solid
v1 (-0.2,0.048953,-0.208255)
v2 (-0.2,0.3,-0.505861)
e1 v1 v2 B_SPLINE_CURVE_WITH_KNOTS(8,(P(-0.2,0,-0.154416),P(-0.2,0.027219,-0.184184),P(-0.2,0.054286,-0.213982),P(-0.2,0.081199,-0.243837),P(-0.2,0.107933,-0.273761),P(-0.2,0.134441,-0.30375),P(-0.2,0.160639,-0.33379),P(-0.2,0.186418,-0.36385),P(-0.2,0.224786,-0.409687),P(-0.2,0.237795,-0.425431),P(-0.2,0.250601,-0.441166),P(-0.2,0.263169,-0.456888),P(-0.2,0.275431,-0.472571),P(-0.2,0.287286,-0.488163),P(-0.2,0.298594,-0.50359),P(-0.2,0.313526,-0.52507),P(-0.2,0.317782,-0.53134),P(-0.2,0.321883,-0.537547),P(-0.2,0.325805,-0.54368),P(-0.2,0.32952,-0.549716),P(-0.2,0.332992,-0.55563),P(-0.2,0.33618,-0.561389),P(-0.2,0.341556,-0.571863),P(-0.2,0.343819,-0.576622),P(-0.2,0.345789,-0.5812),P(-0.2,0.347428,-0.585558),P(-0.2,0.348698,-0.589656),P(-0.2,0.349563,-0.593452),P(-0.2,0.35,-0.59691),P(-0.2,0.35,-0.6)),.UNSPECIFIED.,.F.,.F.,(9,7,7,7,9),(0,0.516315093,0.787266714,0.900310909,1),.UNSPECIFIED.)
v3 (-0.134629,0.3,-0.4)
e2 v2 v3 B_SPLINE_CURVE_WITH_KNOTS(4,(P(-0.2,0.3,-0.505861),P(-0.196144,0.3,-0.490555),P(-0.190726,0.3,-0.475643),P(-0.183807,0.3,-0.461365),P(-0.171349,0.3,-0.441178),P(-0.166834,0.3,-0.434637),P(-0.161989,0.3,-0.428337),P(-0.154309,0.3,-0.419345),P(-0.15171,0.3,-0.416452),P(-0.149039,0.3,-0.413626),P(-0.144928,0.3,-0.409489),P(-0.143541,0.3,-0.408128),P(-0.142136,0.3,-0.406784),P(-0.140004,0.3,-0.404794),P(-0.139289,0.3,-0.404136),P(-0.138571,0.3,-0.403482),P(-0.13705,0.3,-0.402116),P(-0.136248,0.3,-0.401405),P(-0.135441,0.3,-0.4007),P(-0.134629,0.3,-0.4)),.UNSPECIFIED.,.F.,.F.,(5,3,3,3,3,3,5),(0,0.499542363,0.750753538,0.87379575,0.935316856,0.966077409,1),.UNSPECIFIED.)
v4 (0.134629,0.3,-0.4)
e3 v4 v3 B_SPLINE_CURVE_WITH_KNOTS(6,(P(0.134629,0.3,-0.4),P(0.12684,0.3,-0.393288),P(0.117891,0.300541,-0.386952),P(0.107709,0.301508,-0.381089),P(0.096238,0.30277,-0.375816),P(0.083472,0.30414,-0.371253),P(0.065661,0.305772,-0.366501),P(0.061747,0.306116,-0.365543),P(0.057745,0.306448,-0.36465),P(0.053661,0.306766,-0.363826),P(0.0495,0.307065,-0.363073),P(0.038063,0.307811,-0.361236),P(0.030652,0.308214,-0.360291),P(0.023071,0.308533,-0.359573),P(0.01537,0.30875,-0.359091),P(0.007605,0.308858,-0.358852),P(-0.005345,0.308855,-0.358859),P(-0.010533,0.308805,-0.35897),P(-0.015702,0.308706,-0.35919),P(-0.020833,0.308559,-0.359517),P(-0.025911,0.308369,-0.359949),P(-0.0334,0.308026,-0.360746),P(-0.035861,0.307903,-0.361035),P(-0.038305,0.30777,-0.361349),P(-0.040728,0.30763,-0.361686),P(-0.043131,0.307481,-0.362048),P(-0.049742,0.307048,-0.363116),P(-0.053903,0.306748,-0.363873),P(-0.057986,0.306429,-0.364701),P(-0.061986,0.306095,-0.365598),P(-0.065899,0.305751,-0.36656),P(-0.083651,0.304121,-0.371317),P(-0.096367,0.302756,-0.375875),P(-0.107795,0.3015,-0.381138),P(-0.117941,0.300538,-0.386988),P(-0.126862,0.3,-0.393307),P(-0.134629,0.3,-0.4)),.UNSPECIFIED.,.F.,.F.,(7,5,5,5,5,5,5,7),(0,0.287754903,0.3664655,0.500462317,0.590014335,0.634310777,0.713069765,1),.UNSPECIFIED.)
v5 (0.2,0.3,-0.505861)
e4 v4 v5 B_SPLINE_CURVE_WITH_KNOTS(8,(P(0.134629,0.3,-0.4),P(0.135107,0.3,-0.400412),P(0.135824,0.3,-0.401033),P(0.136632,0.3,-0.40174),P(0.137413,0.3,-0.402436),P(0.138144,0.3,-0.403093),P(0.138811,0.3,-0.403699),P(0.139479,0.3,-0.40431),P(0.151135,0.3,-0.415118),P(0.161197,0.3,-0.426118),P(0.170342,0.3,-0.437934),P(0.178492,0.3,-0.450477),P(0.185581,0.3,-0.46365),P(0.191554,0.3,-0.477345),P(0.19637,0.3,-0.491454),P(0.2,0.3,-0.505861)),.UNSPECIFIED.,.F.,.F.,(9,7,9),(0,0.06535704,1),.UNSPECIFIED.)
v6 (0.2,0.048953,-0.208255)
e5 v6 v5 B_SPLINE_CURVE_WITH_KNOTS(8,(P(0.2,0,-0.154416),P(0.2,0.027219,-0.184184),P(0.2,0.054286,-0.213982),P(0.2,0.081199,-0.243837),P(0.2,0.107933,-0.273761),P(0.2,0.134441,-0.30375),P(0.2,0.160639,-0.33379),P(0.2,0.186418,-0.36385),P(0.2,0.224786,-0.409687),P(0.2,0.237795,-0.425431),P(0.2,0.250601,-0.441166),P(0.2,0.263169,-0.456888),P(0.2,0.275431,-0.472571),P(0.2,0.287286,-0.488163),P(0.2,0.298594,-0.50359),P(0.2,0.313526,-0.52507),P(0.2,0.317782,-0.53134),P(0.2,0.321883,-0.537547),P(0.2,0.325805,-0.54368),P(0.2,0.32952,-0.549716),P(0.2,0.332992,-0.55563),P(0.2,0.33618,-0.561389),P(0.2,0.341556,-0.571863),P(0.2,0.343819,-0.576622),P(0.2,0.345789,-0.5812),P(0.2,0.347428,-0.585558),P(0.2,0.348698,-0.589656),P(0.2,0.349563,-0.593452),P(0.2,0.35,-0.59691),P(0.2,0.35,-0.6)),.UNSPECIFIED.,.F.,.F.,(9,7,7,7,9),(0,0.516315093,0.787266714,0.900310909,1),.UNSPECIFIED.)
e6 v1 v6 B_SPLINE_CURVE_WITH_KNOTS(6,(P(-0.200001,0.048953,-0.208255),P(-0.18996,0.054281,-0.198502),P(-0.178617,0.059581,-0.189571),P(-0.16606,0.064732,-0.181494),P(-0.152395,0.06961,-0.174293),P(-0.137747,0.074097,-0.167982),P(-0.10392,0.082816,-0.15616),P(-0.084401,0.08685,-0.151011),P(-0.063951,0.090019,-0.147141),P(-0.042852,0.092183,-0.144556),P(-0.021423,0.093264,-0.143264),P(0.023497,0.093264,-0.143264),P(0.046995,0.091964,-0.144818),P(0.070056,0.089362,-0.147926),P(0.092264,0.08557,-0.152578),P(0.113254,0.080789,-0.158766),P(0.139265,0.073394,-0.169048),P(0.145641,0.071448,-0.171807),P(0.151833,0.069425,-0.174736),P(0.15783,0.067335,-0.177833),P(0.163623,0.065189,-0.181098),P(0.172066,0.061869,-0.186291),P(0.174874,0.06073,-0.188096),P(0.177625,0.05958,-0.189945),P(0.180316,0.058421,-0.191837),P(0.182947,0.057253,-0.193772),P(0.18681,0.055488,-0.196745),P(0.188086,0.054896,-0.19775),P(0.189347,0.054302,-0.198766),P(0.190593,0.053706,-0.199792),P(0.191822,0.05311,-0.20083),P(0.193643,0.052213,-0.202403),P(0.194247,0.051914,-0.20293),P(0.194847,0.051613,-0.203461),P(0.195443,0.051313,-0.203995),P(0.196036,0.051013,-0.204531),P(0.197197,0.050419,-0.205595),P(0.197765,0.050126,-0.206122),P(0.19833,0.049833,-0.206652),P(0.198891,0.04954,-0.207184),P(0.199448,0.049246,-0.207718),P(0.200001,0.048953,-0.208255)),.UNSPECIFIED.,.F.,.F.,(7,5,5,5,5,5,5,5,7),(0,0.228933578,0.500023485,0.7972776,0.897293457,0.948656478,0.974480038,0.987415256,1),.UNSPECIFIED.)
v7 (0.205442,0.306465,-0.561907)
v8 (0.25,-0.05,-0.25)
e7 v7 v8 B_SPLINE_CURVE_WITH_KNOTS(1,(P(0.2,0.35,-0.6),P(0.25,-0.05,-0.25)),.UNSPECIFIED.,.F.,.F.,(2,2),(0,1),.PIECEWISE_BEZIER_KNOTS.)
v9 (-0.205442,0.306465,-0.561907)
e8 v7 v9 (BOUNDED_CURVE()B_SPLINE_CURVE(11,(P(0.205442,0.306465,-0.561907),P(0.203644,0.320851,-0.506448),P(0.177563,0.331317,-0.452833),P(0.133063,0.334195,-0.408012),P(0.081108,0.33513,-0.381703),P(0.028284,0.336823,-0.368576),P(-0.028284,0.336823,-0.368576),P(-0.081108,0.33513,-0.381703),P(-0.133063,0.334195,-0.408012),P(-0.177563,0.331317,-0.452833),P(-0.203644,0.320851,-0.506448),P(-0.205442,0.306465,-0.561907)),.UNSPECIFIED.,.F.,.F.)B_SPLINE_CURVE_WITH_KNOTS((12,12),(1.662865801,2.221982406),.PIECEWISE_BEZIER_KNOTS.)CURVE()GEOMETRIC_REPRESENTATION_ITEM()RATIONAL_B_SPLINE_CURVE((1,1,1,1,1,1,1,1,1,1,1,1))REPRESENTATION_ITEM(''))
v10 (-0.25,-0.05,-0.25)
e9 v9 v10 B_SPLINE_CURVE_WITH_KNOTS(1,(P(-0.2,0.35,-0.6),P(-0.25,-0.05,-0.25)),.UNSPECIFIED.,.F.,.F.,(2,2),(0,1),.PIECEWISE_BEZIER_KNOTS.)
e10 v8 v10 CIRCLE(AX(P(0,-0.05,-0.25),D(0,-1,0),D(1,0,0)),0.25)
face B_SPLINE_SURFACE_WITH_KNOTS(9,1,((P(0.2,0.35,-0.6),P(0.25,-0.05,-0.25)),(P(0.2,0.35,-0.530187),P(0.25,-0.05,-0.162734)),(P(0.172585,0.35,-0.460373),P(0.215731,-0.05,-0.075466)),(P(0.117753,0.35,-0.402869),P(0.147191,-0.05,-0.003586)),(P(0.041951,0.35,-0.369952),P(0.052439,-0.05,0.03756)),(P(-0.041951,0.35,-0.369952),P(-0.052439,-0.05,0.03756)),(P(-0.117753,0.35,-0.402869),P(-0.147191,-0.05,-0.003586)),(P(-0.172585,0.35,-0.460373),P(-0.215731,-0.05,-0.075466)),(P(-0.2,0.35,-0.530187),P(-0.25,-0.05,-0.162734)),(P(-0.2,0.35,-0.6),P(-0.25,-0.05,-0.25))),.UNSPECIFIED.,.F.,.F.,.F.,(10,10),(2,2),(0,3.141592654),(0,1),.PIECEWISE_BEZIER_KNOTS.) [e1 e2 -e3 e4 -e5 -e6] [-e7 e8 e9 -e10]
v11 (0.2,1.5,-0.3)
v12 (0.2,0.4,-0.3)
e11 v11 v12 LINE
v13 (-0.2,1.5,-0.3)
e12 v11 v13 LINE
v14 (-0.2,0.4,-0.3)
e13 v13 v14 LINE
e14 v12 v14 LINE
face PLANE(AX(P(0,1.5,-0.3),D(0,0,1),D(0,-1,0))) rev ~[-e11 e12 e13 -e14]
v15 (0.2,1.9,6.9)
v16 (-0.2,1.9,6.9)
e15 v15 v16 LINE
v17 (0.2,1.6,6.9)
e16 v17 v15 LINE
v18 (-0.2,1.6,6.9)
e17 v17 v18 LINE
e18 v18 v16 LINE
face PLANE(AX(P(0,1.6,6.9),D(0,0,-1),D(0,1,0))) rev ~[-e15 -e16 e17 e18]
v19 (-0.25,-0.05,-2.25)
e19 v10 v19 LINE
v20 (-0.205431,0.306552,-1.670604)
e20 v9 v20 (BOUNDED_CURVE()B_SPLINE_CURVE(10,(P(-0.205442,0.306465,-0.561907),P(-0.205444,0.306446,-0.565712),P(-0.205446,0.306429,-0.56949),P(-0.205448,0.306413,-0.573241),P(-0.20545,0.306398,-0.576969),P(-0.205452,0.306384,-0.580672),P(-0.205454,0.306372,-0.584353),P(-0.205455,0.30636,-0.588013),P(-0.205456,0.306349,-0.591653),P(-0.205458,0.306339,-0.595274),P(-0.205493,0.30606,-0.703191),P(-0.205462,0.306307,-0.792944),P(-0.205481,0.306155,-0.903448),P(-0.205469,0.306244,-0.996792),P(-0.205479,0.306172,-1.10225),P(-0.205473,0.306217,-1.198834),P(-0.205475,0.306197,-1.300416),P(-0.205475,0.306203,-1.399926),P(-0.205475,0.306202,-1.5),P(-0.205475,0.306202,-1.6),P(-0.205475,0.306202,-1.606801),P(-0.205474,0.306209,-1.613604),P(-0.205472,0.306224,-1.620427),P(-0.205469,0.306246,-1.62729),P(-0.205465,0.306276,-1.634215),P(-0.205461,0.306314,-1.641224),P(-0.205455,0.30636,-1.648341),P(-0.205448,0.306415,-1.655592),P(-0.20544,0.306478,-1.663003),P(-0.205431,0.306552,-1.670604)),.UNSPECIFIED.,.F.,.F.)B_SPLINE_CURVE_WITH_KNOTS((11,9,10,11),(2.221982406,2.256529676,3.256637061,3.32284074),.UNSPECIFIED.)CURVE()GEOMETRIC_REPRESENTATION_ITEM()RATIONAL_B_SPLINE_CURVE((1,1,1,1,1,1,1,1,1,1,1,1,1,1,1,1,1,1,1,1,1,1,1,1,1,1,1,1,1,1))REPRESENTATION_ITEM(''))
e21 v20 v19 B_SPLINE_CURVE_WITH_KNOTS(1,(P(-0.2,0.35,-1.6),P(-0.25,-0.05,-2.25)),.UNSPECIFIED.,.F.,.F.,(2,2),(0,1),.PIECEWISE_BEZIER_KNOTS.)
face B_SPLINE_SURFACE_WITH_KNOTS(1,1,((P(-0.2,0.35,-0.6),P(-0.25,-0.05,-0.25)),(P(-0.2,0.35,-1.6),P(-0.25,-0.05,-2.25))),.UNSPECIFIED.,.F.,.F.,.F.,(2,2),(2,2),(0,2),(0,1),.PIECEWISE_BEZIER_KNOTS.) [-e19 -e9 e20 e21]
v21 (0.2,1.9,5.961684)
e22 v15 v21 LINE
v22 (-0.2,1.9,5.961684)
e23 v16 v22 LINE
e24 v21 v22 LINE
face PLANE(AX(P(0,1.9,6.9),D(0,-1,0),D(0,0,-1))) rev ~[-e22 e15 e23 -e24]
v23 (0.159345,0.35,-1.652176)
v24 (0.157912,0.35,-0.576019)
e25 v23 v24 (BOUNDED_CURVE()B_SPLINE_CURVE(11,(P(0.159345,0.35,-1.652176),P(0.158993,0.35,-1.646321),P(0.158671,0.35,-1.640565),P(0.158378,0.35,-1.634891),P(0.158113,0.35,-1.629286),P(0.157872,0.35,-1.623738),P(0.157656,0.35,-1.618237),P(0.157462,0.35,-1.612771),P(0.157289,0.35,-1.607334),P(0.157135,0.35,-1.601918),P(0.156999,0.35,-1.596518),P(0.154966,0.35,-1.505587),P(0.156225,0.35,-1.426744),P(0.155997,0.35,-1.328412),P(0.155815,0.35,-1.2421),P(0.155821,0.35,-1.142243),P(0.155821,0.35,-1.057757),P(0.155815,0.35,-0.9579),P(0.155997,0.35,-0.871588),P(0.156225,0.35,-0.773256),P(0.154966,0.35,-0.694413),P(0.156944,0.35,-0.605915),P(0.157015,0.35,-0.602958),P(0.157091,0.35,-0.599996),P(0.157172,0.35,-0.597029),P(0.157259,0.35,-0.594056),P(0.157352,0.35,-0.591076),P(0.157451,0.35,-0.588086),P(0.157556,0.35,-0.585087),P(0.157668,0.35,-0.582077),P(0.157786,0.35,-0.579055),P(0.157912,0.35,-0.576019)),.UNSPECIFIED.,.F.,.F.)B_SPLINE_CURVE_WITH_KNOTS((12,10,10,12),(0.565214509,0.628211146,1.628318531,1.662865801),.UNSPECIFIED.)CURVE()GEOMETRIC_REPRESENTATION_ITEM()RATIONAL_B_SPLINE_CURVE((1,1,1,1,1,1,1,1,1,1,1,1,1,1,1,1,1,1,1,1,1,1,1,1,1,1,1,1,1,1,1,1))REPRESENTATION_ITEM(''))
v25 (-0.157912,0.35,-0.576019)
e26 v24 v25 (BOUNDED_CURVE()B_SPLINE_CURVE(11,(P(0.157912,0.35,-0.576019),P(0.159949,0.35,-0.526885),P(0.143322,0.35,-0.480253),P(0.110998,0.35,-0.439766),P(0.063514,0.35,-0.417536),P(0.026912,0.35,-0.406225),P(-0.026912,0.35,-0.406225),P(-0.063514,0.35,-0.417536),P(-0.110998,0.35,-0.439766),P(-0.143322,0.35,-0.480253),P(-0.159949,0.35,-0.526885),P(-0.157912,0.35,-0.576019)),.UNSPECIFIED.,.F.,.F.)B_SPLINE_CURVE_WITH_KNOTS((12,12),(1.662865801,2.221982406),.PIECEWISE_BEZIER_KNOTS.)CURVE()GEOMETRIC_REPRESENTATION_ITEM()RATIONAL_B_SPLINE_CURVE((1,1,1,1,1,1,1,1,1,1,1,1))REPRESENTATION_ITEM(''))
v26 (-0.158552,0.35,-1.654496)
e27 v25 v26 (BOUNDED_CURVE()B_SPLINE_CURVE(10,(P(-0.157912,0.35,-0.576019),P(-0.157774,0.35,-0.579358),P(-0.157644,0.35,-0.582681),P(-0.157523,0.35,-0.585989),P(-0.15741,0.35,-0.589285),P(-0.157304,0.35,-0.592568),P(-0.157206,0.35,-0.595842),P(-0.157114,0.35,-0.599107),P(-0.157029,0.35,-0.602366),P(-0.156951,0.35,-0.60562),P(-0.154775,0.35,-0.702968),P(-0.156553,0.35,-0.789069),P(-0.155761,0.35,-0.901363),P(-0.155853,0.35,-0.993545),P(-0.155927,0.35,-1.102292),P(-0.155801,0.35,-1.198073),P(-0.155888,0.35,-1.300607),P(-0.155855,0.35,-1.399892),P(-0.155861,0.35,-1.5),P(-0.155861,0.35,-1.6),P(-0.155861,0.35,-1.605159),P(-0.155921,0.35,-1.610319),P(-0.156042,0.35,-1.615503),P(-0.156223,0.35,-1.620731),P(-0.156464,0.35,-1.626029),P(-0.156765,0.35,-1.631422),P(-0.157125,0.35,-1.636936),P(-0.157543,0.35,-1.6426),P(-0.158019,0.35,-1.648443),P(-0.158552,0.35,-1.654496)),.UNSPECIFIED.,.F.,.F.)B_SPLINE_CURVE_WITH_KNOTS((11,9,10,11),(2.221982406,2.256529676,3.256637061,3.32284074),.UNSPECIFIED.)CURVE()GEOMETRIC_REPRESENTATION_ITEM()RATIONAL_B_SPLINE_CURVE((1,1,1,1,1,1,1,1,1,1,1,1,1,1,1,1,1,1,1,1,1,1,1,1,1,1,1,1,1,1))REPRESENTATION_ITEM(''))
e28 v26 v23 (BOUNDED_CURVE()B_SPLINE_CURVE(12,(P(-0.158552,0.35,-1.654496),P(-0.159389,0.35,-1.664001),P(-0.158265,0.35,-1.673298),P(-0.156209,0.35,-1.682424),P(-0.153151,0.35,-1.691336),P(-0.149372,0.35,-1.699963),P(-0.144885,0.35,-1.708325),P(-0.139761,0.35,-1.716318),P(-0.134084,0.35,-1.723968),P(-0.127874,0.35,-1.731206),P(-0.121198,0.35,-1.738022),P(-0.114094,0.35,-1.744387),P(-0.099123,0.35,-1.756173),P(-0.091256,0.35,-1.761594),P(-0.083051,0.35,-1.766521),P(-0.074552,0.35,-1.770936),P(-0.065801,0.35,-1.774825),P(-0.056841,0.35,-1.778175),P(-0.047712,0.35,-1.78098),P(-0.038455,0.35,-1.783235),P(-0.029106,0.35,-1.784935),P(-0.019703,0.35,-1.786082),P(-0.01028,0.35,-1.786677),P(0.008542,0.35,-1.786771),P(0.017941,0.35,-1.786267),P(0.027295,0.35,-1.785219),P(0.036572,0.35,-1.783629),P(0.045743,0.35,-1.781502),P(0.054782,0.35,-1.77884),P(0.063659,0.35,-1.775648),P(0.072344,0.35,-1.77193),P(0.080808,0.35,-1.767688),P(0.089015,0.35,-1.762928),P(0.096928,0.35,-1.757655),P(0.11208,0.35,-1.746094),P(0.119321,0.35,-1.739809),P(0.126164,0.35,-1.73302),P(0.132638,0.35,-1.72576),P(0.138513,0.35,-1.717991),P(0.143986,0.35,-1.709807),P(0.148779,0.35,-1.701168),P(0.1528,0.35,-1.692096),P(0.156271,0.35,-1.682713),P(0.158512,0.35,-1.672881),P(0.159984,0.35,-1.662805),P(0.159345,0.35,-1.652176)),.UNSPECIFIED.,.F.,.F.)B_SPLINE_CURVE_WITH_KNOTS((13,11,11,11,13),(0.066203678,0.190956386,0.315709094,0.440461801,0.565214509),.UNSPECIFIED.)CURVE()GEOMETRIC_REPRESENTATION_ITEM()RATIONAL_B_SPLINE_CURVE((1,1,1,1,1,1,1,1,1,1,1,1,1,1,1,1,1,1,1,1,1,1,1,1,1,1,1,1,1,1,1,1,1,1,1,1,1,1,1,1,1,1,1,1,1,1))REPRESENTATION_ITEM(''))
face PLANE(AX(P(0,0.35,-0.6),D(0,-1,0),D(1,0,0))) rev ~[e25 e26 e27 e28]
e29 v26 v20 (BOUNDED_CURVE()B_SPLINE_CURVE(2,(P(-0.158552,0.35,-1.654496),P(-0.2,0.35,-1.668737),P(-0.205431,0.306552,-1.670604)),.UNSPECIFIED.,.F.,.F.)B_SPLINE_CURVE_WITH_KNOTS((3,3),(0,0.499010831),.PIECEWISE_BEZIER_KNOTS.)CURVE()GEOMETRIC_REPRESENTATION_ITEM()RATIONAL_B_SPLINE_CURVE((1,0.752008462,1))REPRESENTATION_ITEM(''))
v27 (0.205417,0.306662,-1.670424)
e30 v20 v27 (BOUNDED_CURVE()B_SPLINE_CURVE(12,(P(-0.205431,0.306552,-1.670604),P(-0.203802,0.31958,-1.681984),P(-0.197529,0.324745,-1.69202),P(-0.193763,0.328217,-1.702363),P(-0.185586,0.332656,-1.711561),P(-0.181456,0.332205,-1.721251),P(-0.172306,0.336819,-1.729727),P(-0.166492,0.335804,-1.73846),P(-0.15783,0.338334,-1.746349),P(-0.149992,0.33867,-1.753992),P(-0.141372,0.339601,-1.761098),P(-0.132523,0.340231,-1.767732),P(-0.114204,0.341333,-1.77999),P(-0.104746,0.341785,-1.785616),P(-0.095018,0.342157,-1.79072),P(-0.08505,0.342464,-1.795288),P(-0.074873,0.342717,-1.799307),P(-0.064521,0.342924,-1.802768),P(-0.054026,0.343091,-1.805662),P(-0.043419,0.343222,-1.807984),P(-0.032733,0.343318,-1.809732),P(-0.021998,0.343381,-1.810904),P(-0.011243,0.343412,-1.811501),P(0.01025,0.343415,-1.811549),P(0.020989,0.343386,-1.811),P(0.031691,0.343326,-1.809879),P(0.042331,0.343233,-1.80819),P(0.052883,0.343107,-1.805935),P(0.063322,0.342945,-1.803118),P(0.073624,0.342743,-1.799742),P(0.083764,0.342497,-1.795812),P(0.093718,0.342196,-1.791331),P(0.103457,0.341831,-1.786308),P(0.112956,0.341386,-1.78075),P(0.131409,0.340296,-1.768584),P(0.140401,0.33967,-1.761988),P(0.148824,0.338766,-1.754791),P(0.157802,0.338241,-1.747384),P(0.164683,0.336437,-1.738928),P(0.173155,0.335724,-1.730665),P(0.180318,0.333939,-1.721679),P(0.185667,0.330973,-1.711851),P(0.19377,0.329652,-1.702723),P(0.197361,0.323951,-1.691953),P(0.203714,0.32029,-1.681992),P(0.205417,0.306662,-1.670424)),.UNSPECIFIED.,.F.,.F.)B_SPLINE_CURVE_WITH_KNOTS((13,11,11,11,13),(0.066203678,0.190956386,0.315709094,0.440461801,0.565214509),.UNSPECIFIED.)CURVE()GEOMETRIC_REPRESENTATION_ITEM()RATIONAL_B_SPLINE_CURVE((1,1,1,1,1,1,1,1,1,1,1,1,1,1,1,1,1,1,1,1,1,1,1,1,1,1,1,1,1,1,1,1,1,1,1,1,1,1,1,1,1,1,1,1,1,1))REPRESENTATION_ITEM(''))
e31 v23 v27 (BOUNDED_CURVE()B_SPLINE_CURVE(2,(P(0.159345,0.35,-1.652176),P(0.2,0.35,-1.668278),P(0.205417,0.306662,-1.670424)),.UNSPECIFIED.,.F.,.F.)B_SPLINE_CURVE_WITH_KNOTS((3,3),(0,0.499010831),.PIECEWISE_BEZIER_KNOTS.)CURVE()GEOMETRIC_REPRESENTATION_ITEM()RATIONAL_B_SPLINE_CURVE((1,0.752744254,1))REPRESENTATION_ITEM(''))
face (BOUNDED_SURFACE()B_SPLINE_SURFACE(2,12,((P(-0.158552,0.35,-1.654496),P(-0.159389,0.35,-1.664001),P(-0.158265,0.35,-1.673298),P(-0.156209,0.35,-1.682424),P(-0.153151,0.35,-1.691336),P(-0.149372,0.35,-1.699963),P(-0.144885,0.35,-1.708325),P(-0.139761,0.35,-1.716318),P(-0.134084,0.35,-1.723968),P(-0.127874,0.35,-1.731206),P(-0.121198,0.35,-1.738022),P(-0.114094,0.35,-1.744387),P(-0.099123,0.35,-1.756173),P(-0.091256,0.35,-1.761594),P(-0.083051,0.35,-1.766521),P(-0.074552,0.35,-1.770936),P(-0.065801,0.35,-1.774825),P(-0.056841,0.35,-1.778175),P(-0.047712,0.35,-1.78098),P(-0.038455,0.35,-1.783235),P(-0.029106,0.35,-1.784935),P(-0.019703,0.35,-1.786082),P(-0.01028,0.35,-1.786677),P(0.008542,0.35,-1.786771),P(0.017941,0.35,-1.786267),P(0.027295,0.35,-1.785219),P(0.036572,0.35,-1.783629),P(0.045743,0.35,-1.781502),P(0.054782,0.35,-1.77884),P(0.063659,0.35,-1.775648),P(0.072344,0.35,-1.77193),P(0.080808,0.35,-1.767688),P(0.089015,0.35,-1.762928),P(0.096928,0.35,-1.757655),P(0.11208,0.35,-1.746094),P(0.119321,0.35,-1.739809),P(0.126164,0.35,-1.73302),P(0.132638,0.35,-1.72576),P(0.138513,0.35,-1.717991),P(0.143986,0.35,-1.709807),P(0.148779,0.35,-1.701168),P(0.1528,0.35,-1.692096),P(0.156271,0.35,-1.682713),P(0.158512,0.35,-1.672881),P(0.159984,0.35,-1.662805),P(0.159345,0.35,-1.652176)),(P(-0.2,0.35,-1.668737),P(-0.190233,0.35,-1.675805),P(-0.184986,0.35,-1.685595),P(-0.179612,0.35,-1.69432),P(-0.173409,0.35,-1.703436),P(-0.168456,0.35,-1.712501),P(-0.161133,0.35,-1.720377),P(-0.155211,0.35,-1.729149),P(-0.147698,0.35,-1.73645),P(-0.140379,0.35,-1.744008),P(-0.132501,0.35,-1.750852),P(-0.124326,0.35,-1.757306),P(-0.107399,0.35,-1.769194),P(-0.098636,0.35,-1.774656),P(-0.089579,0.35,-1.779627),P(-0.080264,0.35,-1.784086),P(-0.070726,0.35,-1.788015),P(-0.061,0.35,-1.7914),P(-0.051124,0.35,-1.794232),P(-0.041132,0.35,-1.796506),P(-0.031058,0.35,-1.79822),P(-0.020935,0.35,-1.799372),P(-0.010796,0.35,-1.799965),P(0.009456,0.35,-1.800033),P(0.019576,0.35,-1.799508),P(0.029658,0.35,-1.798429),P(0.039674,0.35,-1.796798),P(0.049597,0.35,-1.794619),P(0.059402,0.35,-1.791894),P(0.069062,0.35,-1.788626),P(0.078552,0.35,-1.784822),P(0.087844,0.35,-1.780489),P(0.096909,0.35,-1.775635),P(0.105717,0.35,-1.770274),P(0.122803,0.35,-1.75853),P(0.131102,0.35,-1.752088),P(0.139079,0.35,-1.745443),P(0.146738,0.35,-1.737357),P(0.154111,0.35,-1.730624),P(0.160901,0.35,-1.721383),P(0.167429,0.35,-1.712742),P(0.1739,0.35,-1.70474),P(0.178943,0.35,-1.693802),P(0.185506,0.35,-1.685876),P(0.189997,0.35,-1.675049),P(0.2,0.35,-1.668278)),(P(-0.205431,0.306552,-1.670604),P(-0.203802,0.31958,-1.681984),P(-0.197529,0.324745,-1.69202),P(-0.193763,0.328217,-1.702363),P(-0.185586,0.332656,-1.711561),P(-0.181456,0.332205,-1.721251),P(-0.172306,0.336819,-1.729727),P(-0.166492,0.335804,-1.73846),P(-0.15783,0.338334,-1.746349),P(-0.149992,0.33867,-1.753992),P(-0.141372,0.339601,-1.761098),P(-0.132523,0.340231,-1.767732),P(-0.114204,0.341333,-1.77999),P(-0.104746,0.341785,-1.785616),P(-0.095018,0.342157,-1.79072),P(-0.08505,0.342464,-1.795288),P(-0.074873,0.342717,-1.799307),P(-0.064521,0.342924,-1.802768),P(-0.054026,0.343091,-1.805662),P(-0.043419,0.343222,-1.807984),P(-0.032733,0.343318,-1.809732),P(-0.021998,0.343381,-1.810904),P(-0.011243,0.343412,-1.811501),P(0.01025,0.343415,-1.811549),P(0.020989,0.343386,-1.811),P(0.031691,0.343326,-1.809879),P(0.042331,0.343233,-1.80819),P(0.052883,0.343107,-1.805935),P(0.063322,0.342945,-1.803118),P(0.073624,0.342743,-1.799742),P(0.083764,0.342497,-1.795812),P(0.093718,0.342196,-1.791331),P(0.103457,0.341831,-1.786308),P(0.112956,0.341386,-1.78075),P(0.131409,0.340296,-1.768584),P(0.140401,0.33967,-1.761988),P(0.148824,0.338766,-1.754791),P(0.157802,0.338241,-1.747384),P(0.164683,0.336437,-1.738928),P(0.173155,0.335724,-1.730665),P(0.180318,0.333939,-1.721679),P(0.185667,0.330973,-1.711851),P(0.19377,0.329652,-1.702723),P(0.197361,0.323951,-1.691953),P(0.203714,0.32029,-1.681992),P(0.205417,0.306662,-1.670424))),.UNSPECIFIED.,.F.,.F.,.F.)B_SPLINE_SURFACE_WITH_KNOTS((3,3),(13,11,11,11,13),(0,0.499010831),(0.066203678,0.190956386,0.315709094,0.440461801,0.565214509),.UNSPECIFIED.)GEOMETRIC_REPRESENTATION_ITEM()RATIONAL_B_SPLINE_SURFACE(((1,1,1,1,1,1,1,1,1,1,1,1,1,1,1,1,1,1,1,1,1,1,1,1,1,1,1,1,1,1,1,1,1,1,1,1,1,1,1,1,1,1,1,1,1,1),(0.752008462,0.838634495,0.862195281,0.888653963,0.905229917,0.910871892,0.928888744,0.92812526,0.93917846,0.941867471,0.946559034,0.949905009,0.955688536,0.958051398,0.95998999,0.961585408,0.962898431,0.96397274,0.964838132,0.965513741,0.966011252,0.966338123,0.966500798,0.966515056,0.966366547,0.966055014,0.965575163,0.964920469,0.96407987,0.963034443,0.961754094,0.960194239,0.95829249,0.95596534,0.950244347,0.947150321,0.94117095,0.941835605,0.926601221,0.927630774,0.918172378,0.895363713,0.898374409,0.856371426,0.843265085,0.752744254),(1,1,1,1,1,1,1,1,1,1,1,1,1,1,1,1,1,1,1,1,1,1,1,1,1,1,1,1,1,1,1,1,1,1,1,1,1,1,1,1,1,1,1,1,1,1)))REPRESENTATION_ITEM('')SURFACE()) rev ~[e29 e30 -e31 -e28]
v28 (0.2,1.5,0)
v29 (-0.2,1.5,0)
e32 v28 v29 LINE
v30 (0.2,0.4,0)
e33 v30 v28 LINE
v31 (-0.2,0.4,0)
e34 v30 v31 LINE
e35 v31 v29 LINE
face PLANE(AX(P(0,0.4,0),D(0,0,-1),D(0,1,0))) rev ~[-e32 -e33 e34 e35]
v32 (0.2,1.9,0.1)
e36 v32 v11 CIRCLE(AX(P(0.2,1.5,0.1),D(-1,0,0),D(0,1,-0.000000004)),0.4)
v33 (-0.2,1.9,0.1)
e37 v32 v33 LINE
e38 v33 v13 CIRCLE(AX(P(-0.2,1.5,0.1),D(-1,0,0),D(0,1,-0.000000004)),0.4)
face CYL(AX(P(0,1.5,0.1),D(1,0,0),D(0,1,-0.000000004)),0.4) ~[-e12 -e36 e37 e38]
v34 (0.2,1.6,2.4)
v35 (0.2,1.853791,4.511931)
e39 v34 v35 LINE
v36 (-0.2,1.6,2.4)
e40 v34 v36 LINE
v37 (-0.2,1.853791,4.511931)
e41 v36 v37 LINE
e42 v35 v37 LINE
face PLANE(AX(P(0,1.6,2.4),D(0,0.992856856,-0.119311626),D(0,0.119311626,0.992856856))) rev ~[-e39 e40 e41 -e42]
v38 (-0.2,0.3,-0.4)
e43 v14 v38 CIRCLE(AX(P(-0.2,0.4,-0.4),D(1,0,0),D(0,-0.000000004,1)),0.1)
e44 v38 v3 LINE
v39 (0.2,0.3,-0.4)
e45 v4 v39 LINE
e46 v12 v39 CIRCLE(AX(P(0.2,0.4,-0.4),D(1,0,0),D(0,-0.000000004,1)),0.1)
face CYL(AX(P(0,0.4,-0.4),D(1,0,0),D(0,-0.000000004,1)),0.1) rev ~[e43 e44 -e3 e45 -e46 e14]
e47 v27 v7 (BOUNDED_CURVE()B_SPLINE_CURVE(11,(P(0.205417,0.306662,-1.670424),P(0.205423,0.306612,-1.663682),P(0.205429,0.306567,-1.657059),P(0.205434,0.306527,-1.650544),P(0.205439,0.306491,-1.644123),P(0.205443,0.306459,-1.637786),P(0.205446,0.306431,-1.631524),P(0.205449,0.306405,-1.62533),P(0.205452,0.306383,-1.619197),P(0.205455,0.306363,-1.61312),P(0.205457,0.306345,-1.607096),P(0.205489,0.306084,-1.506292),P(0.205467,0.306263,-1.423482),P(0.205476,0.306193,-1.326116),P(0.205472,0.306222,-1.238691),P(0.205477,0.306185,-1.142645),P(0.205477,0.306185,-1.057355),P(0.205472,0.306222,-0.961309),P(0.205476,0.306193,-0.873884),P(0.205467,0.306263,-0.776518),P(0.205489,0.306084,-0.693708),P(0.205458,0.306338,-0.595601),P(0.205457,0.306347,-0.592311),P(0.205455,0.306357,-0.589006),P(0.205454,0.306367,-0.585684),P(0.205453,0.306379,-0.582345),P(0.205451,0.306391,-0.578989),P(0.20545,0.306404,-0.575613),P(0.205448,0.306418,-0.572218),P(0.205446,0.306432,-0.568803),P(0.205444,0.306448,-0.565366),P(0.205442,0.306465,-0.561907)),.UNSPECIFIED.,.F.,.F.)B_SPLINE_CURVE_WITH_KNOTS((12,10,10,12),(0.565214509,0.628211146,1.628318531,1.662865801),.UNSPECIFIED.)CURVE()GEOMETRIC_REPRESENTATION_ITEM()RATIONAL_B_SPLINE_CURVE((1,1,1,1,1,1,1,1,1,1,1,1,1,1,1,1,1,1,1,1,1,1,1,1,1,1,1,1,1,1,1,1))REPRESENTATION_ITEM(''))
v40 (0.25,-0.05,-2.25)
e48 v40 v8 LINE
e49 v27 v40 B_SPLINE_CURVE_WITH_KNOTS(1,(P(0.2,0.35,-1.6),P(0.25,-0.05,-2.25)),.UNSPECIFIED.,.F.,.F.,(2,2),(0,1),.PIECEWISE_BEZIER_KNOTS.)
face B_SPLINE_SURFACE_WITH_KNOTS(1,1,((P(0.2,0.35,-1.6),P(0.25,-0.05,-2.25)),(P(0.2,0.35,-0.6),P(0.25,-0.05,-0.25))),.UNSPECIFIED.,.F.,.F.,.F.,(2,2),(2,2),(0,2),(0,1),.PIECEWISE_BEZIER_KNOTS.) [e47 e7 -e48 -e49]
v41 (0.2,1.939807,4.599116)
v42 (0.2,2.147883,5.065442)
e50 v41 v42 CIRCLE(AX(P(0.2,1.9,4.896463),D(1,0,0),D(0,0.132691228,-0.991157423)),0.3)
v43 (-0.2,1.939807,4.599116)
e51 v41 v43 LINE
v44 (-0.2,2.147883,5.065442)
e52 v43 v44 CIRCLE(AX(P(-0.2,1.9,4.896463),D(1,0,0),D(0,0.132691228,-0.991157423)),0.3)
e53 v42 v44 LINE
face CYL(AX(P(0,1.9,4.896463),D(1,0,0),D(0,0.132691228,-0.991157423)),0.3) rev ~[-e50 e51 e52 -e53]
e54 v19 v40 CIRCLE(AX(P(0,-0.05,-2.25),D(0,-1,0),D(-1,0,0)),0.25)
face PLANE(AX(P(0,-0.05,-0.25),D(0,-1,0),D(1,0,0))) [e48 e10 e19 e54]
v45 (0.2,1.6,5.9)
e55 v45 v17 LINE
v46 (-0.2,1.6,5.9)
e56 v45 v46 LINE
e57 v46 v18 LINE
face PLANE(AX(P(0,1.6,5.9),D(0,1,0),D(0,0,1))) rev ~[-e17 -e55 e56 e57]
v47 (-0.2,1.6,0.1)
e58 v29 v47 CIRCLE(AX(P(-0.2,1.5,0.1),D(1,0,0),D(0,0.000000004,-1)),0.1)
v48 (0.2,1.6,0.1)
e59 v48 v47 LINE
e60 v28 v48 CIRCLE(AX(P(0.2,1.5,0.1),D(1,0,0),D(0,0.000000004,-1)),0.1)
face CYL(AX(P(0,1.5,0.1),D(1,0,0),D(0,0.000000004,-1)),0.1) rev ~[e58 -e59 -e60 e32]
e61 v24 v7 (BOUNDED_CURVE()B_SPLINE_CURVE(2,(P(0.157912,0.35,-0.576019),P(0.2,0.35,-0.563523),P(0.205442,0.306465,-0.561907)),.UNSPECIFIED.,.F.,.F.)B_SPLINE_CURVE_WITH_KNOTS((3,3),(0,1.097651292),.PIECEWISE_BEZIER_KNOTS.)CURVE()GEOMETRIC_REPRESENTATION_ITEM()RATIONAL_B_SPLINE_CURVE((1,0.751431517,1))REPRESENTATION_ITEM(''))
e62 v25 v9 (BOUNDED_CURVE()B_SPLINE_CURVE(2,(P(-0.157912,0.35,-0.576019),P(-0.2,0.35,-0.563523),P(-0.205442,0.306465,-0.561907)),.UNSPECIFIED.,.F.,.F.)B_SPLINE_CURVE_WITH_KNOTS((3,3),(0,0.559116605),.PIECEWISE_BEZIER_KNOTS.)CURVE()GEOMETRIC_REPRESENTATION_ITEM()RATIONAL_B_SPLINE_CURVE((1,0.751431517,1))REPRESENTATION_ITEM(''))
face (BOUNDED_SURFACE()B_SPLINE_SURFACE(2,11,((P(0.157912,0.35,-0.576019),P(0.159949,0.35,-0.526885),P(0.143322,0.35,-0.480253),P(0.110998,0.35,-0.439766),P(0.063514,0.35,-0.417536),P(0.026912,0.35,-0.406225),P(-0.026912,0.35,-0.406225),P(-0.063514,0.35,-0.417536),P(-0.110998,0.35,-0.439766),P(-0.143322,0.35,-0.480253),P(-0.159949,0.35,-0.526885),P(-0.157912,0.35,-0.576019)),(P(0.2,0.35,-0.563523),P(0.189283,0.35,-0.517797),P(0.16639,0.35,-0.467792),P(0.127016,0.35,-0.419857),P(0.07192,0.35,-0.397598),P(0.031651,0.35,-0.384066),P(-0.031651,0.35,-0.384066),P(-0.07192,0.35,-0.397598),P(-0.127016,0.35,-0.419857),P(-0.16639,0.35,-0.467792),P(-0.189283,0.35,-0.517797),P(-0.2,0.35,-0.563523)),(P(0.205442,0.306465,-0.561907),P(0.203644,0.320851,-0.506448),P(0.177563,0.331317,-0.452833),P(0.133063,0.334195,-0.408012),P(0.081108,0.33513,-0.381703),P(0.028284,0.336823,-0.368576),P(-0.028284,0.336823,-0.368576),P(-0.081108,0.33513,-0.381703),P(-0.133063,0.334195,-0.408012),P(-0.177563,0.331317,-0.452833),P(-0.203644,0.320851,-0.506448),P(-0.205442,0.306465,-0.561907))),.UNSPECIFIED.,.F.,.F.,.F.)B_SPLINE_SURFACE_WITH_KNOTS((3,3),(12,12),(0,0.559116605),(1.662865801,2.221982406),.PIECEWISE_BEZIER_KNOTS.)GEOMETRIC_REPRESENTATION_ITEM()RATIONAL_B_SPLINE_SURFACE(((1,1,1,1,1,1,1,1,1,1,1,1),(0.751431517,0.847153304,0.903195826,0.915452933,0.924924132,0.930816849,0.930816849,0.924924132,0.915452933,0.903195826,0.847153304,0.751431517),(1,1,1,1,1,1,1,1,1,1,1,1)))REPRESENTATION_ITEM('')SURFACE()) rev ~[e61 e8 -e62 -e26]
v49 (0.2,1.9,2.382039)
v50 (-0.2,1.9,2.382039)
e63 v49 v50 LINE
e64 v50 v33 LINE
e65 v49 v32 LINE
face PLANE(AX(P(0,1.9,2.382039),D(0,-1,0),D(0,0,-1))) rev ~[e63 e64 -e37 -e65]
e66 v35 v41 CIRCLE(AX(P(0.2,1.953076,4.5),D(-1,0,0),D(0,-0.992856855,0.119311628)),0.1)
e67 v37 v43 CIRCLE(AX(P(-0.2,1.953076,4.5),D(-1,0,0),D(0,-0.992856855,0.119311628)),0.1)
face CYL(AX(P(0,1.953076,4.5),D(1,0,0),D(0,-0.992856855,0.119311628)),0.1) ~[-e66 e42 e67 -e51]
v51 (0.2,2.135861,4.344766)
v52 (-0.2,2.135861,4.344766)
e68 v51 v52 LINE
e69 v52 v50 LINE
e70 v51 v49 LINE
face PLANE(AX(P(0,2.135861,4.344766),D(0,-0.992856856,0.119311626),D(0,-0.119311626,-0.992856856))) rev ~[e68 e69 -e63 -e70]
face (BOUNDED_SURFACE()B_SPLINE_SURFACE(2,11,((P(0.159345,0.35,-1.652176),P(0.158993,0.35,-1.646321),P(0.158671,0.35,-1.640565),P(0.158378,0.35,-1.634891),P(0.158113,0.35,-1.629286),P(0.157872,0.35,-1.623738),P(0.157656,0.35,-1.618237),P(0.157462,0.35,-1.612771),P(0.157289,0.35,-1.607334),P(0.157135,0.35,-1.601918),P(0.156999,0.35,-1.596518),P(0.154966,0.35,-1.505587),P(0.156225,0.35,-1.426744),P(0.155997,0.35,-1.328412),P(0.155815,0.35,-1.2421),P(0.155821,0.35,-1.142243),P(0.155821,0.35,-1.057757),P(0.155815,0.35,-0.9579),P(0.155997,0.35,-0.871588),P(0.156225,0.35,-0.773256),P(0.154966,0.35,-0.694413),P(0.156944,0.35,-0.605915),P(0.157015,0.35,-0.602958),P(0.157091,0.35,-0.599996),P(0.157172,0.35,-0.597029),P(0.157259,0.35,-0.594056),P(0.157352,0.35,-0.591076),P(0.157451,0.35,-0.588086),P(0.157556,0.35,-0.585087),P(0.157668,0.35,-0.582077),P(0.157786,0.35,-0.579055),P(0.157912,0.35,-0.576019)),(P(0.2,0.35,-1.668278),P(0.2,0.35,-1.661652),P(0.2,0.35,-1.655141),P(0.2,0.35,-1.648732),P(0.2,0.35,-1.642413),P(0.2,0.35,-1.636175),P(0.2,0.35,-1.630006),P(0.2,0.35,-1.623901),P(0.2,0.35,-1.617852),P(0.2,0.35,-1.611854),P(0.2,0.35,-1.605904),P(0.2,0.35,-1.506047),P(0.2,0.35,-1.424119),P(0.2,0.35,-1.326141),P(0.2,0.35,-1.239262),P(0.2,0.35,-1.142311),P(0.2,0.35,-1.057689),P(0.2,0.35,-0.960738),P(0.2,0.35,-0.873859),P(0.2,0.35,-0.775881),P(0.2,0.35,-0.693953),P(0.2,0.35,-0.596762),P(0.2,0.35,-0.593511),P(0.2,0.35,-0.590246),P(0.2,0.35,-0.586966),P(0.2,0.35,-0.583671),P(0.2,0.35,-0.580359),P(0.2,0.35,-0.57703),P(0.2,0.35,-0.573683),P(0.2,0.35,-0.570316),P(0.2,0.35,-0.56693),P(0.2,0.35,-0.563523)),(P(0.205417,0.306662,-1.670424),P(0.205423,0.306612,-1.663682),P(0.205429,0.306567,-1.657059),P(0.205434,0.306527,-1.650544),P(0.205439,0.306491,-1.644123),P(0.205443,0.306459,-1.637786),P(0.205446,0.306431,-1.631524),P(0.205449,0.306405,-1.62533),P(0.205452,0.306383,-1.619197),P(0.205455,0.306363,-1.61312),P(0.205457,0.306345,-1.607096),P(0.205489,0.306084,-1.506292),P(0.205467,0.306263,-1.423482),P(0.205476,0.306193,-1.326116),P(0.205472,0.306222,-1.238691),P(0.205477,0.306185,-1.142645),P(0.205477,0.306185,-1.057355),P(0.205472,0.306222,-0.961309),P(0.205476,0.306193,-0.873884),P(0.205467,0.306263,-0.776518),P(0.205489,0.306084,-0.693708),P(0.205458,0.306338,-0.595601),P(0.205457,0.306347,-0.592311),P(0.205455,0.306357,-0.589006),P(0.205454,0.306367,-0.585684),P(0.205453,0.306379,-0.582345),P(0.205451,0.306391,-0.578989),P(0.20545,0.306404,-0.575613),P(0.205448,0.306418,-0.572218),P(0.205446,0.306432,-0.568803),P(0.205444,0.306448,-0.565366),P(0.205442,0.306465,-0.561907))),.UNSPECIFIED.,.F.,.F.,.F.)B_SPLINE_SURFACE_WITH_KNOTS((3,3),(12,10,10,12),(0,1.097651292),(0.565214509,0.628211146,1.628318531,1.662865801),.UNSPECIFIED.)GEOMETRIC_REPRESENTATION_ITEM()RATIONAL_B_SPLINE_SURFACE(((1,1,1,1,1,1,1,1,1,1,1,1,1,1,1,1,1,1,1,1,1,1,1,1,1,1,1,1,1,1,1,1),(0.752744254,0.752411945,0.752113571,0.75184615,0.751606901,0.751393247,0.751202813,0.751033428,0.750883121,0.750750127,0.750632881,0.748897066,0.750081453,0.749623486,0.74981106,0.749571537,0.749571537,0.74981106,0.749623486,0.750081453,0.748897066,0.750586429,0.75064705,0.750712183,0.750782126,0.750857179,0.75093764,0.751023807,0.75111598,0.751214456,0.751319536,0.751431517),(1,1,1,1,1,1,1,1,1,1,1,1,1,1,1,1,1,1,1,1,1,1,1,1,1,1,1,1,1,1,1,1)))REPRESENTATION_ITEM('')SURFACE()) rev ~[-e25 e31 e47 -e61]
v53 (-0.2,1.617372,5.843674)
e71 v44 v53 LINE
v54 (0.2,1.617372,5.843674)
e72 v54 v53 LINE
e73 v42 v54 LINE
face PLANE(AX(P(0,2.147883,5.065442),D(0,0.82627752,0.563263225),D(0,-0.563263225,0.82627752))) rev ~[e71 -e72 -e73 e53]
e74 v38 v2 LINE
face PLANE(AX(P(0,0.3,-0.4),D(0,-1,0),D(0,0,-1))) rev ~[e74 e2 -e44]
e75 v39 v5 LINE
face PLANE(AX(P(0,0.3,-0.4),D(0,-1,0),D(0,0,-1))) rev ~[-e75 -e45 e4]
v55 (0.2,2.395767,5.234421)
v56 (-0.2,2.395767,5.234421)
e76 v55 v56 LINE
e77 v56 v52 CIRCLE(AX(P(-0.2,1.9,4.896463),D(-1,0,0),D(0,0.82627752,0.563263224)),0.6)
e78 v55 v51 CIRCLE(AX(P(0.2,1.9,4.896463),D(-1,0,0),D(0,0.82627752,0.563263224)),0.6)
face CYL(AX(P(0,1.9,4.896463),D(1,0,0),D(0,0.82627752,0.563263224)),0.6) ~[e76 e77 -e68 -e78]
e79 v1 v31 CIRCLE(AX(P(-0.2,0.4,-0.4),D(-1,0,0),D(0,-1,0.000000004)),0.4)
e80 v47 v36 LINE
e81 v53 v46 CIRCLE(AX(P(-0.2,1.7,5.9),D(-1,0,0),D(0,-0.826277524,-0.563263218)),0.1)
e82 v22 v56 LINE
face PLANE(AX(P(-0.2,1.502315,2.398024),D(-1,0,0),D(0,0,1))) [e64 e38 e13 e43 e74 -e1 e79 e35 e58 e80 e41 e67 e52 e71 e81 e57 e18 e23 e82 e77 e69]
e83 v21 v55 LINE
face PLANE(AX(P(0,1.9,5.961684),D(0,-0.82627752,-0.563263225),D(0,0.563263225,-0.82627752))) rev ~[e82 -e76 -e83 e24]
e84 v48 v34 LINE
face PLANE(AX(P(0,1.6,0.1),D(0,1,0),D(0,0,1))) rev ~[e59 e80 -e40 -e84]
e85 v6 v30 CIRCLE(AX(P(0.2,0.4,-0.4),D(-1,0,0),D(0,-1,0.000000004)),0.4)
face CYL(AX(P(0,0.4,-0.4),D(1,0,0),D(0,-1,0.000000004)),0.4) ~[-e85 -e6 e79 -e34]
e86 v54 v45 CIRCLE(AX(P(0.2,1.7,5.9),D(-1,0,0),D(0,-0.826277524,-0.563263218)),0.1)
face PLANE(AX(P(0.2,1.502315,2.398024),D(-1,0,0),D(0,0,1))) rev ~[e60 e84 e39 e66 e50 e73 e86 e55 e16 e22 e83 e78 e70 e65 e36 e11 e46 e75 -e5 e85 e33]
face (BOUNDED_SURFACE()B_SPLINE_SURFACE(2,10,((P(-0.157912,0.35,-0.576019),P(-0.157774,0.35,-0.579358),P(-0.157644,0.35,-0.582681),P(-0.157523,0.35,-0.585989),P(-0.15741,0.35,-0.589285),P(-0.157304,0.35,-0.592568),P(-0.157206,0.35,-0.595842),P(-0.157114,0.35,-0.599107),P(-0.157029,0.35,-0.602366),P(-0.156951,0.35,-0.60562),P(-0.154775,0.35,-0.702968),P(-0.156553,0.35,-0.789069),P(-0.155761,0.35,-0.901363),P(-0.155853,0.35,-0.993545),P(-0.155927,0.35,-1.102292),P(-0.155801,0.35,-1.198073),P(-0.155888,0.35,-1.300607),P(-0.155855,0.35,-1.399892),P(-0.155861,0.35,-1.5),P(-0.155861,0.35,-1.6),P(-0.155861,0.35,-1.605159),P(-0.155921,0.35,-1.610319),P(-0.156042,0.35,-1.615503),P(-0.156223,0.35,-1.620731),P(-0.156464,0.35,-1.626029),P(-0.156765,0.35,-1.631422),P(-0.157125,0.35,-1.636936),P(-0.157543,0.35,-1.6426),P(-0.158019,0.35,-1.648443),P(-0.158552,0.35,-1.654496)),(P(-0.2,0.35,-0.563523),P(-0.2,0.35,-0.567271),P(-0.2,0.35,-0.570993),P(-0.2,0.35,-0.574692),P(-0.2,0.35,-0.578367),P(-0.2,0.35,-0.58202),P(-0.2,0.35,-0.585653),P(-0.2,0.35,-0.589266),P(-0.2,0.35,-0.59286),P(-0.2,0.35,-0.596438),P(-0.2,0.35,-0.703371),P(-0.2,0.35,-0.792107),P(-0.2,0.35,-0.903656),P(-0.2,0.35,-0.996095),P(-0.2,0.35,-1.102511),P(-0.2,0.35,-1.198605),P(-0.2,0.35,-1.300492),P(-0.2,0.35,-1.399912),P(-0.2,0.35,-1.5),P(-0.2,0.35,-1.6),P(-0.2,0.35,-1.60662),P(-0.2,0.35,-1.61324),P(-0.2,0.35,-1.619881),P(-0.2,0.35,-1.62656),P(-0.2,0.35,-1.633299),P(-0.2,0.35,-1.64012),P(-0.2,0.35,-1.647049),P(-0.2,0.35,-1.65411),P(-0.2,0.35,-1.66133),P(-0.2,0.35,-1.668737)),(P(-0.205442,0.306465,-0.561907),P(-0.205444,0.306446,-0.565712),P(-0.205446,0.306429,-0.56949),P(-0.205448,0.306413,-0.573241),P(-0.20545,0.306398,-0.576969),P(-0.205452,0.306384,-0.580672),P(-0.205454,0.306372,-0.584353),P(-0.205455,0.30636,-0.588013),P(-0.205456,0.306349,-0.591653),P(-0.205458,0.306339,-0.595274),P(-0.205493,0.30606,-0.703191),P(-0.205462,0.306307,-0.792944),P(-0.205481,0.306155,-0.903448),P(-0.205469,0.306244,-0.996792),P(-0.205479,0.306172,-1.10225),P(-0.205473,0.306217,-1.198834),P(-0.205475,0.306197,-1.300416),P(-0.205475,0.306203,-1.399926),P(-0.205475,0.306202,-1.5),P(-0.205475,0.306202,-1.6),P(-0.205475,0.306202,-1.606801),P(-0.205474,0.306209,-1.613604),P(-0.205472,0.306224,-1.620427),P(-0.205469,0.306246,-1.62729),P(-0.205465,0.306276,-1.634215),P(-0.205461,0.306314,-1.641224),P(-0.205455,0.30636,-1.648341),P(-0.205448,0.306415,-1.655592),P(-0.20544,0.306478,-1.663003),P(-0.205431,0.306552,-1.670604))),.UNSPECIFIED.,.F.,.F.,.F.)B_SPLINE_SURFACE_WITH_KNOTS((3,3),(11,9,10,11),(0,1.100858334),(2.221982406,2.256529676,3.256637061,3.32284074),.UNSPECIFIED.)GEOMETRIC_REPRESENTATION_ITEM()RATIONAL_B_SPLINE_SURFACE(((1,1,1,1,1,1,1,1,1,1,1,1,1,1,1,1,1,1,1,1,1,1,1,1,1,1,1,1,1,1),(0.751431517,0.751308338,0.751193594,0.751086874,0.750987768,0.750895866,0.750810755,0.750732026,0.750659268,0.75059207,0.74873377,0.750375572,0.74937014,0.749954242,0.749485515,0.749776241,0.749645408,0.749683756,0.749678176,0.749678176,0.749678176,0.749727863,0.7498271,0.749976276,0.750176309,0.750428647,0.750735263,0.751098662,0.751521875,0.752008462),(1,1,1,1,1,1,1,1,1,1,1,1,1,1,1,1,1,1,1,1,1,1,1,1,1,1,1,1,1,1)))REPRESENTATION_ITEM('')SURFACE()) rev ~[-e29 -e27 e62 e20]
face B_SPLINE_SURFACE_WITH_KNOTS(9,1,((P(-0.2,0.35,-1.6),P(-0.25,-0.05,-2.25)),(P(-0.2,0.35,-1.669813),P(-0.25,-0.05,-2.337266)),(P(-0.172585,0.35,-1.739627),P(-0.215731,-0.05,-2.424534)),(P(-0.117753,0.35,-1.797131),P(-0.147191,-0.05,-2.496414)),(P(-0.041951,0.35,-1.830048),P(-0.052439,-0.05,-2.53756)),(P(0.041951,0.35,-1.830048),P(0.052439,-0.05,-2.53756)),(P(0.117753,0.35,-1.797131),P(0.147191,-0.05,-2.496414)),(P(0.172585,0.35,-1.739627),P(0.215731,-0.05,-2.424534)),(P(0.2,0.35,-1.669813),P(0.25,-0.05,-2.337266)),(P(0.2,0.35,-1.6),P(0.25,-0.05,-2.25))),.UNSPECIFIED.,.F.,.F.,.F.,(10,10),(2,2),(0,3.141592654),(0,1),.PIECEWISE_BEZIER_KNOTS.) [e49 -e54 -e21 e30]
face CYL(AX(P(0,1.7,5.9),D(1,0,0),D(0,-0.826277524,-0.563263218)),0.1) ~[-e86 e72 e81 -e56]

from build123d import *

# Parameters (mm, degrees)
EXTRUDE_THIN1_DEPTH = 0.2
FILLET2_R           = 0.05


with BuildPart() as part:
    # Sketch1 → Extrude-Thin1 (new, symmetric)
    with BuildSketch(Plane(origin=(0, 0, 0), x_dir=(0, 0, -1), z_dir=(1, 0, 0))):
        with BuildLine():
            Line((1.5, 0), (0.4, 0))
            ThreePointArc((0.4, 0), (0.117157288, 0.117157288), (0, 0.4))
            Line((0, 0.4), (0, 1.5))
            ThreePointArc((0, 1.5), (-0.029289322, 1.570710678), (-0.1, 1.6))
            Line((-0.1, 1.6), (-2.4, 1.6))
            Line((-2.4, 1.6), (-4.511931163, 1.853790806))
            ThreePointArc((-4.511931163, 1.853790806), (-4.570232229, 1.88189058), (-4.599115742, 1.939807369))
            ThreePointArc((-4.599115742, 1.939807369), (-4.774219375, 2.173964421), (-5.065441937, 2.147883256))
            Line((-5.065441937, 2.147883256), (-5.843673678, 1.617372248))
            ThreePointArc((-5.843673678, 1.617372248), (-5.870527769, 1.604441706), (-5.9, 1.6))
            Line((-5.9, 1.6), (-6.9, 1.6))
            Line((-6.9, 1.6), (-6.9, 1.9))
            Line((-6.9, 1.9), (-5.961684297, 1.9))
            Line((-5.961684297, 1.9), (-5.234420904, 2.395766512))
            ThreePointArc((-5.234420904, 2.395766512), (-4.728210685, 2.475926357), (-4.344765926, 2.135860917))
            Line((-4.344765926, 2.135860917), (-2.382039107, 1.9))
            Line((-2.382039107, 1.9), (-0.1, 1.9))
            ThreePointArc((-0.1, 1.9), (0.182842712, 1.782842712), (0.3, 1.5))
            Line((0.3, 1.5), (0.3, 0.4))
            ThreePointArc((0.3, 0.4), (0.329289322, 0.329289322), (0.4, 0.3))
            Line((0.4, 0.3), (1.5, 0.3))
            Line((1.5, 0.3), (1.5, 0))
        make_face()
    extrude(amount=EXTRUDE_THIN1_DEPTH, both=True)

    # Sketch3 → Loft1 section 0
    with BuildSketch(Plane(origin=(0, 0.35, 0), x_dir=(1, 0, 0), z_dir=(0, 1, 0))):
        with BuildLine():
            Line((0.2, 1.6), (0.2, 0.6))
            ThreePointArc((0.2, 0.6), (0, 0.4), (-0.2, 0.6))
            Line((-0.2, 0.6), (-0.2, 1.6))
            ThreePointArc((-0.2, 1.6), (0, 1.8), (0.2, 1.6))
        make_face()
    # Sketch2 → Loft1 section 1
    with BuildSketch(Plane(origin=(0, -0.05, 0), x_dir=(1, 0, 0), z_dir=(0, 1, 0))):
        with BuildLine():
            Line((0.25, 2.25), (0.25, 0.25))
            ThreePointArc((0.25, 0.25), (0, 0), (-0.25, 0.25))
            Line((-0.25, 0.25), (-0.25, 2.25))
            ThreePointArc((-0.25, 2.25), (0, 2.5), (0.25, 2.25))
        make_face()
    loft()

    # Fillet2
    fillet2_edges = [part.edges().sort_by_distance(p)[0] for p in [
        (0, 0.35, -1.8),
        (-0.2, 0.35, -1.1),
        (0, 0.35, -0.4),
        (0.2, 0.35, -1.1),
    ]]
    fillet(fillet2_edges, radius=FILLET2_R)


solid = part.part
